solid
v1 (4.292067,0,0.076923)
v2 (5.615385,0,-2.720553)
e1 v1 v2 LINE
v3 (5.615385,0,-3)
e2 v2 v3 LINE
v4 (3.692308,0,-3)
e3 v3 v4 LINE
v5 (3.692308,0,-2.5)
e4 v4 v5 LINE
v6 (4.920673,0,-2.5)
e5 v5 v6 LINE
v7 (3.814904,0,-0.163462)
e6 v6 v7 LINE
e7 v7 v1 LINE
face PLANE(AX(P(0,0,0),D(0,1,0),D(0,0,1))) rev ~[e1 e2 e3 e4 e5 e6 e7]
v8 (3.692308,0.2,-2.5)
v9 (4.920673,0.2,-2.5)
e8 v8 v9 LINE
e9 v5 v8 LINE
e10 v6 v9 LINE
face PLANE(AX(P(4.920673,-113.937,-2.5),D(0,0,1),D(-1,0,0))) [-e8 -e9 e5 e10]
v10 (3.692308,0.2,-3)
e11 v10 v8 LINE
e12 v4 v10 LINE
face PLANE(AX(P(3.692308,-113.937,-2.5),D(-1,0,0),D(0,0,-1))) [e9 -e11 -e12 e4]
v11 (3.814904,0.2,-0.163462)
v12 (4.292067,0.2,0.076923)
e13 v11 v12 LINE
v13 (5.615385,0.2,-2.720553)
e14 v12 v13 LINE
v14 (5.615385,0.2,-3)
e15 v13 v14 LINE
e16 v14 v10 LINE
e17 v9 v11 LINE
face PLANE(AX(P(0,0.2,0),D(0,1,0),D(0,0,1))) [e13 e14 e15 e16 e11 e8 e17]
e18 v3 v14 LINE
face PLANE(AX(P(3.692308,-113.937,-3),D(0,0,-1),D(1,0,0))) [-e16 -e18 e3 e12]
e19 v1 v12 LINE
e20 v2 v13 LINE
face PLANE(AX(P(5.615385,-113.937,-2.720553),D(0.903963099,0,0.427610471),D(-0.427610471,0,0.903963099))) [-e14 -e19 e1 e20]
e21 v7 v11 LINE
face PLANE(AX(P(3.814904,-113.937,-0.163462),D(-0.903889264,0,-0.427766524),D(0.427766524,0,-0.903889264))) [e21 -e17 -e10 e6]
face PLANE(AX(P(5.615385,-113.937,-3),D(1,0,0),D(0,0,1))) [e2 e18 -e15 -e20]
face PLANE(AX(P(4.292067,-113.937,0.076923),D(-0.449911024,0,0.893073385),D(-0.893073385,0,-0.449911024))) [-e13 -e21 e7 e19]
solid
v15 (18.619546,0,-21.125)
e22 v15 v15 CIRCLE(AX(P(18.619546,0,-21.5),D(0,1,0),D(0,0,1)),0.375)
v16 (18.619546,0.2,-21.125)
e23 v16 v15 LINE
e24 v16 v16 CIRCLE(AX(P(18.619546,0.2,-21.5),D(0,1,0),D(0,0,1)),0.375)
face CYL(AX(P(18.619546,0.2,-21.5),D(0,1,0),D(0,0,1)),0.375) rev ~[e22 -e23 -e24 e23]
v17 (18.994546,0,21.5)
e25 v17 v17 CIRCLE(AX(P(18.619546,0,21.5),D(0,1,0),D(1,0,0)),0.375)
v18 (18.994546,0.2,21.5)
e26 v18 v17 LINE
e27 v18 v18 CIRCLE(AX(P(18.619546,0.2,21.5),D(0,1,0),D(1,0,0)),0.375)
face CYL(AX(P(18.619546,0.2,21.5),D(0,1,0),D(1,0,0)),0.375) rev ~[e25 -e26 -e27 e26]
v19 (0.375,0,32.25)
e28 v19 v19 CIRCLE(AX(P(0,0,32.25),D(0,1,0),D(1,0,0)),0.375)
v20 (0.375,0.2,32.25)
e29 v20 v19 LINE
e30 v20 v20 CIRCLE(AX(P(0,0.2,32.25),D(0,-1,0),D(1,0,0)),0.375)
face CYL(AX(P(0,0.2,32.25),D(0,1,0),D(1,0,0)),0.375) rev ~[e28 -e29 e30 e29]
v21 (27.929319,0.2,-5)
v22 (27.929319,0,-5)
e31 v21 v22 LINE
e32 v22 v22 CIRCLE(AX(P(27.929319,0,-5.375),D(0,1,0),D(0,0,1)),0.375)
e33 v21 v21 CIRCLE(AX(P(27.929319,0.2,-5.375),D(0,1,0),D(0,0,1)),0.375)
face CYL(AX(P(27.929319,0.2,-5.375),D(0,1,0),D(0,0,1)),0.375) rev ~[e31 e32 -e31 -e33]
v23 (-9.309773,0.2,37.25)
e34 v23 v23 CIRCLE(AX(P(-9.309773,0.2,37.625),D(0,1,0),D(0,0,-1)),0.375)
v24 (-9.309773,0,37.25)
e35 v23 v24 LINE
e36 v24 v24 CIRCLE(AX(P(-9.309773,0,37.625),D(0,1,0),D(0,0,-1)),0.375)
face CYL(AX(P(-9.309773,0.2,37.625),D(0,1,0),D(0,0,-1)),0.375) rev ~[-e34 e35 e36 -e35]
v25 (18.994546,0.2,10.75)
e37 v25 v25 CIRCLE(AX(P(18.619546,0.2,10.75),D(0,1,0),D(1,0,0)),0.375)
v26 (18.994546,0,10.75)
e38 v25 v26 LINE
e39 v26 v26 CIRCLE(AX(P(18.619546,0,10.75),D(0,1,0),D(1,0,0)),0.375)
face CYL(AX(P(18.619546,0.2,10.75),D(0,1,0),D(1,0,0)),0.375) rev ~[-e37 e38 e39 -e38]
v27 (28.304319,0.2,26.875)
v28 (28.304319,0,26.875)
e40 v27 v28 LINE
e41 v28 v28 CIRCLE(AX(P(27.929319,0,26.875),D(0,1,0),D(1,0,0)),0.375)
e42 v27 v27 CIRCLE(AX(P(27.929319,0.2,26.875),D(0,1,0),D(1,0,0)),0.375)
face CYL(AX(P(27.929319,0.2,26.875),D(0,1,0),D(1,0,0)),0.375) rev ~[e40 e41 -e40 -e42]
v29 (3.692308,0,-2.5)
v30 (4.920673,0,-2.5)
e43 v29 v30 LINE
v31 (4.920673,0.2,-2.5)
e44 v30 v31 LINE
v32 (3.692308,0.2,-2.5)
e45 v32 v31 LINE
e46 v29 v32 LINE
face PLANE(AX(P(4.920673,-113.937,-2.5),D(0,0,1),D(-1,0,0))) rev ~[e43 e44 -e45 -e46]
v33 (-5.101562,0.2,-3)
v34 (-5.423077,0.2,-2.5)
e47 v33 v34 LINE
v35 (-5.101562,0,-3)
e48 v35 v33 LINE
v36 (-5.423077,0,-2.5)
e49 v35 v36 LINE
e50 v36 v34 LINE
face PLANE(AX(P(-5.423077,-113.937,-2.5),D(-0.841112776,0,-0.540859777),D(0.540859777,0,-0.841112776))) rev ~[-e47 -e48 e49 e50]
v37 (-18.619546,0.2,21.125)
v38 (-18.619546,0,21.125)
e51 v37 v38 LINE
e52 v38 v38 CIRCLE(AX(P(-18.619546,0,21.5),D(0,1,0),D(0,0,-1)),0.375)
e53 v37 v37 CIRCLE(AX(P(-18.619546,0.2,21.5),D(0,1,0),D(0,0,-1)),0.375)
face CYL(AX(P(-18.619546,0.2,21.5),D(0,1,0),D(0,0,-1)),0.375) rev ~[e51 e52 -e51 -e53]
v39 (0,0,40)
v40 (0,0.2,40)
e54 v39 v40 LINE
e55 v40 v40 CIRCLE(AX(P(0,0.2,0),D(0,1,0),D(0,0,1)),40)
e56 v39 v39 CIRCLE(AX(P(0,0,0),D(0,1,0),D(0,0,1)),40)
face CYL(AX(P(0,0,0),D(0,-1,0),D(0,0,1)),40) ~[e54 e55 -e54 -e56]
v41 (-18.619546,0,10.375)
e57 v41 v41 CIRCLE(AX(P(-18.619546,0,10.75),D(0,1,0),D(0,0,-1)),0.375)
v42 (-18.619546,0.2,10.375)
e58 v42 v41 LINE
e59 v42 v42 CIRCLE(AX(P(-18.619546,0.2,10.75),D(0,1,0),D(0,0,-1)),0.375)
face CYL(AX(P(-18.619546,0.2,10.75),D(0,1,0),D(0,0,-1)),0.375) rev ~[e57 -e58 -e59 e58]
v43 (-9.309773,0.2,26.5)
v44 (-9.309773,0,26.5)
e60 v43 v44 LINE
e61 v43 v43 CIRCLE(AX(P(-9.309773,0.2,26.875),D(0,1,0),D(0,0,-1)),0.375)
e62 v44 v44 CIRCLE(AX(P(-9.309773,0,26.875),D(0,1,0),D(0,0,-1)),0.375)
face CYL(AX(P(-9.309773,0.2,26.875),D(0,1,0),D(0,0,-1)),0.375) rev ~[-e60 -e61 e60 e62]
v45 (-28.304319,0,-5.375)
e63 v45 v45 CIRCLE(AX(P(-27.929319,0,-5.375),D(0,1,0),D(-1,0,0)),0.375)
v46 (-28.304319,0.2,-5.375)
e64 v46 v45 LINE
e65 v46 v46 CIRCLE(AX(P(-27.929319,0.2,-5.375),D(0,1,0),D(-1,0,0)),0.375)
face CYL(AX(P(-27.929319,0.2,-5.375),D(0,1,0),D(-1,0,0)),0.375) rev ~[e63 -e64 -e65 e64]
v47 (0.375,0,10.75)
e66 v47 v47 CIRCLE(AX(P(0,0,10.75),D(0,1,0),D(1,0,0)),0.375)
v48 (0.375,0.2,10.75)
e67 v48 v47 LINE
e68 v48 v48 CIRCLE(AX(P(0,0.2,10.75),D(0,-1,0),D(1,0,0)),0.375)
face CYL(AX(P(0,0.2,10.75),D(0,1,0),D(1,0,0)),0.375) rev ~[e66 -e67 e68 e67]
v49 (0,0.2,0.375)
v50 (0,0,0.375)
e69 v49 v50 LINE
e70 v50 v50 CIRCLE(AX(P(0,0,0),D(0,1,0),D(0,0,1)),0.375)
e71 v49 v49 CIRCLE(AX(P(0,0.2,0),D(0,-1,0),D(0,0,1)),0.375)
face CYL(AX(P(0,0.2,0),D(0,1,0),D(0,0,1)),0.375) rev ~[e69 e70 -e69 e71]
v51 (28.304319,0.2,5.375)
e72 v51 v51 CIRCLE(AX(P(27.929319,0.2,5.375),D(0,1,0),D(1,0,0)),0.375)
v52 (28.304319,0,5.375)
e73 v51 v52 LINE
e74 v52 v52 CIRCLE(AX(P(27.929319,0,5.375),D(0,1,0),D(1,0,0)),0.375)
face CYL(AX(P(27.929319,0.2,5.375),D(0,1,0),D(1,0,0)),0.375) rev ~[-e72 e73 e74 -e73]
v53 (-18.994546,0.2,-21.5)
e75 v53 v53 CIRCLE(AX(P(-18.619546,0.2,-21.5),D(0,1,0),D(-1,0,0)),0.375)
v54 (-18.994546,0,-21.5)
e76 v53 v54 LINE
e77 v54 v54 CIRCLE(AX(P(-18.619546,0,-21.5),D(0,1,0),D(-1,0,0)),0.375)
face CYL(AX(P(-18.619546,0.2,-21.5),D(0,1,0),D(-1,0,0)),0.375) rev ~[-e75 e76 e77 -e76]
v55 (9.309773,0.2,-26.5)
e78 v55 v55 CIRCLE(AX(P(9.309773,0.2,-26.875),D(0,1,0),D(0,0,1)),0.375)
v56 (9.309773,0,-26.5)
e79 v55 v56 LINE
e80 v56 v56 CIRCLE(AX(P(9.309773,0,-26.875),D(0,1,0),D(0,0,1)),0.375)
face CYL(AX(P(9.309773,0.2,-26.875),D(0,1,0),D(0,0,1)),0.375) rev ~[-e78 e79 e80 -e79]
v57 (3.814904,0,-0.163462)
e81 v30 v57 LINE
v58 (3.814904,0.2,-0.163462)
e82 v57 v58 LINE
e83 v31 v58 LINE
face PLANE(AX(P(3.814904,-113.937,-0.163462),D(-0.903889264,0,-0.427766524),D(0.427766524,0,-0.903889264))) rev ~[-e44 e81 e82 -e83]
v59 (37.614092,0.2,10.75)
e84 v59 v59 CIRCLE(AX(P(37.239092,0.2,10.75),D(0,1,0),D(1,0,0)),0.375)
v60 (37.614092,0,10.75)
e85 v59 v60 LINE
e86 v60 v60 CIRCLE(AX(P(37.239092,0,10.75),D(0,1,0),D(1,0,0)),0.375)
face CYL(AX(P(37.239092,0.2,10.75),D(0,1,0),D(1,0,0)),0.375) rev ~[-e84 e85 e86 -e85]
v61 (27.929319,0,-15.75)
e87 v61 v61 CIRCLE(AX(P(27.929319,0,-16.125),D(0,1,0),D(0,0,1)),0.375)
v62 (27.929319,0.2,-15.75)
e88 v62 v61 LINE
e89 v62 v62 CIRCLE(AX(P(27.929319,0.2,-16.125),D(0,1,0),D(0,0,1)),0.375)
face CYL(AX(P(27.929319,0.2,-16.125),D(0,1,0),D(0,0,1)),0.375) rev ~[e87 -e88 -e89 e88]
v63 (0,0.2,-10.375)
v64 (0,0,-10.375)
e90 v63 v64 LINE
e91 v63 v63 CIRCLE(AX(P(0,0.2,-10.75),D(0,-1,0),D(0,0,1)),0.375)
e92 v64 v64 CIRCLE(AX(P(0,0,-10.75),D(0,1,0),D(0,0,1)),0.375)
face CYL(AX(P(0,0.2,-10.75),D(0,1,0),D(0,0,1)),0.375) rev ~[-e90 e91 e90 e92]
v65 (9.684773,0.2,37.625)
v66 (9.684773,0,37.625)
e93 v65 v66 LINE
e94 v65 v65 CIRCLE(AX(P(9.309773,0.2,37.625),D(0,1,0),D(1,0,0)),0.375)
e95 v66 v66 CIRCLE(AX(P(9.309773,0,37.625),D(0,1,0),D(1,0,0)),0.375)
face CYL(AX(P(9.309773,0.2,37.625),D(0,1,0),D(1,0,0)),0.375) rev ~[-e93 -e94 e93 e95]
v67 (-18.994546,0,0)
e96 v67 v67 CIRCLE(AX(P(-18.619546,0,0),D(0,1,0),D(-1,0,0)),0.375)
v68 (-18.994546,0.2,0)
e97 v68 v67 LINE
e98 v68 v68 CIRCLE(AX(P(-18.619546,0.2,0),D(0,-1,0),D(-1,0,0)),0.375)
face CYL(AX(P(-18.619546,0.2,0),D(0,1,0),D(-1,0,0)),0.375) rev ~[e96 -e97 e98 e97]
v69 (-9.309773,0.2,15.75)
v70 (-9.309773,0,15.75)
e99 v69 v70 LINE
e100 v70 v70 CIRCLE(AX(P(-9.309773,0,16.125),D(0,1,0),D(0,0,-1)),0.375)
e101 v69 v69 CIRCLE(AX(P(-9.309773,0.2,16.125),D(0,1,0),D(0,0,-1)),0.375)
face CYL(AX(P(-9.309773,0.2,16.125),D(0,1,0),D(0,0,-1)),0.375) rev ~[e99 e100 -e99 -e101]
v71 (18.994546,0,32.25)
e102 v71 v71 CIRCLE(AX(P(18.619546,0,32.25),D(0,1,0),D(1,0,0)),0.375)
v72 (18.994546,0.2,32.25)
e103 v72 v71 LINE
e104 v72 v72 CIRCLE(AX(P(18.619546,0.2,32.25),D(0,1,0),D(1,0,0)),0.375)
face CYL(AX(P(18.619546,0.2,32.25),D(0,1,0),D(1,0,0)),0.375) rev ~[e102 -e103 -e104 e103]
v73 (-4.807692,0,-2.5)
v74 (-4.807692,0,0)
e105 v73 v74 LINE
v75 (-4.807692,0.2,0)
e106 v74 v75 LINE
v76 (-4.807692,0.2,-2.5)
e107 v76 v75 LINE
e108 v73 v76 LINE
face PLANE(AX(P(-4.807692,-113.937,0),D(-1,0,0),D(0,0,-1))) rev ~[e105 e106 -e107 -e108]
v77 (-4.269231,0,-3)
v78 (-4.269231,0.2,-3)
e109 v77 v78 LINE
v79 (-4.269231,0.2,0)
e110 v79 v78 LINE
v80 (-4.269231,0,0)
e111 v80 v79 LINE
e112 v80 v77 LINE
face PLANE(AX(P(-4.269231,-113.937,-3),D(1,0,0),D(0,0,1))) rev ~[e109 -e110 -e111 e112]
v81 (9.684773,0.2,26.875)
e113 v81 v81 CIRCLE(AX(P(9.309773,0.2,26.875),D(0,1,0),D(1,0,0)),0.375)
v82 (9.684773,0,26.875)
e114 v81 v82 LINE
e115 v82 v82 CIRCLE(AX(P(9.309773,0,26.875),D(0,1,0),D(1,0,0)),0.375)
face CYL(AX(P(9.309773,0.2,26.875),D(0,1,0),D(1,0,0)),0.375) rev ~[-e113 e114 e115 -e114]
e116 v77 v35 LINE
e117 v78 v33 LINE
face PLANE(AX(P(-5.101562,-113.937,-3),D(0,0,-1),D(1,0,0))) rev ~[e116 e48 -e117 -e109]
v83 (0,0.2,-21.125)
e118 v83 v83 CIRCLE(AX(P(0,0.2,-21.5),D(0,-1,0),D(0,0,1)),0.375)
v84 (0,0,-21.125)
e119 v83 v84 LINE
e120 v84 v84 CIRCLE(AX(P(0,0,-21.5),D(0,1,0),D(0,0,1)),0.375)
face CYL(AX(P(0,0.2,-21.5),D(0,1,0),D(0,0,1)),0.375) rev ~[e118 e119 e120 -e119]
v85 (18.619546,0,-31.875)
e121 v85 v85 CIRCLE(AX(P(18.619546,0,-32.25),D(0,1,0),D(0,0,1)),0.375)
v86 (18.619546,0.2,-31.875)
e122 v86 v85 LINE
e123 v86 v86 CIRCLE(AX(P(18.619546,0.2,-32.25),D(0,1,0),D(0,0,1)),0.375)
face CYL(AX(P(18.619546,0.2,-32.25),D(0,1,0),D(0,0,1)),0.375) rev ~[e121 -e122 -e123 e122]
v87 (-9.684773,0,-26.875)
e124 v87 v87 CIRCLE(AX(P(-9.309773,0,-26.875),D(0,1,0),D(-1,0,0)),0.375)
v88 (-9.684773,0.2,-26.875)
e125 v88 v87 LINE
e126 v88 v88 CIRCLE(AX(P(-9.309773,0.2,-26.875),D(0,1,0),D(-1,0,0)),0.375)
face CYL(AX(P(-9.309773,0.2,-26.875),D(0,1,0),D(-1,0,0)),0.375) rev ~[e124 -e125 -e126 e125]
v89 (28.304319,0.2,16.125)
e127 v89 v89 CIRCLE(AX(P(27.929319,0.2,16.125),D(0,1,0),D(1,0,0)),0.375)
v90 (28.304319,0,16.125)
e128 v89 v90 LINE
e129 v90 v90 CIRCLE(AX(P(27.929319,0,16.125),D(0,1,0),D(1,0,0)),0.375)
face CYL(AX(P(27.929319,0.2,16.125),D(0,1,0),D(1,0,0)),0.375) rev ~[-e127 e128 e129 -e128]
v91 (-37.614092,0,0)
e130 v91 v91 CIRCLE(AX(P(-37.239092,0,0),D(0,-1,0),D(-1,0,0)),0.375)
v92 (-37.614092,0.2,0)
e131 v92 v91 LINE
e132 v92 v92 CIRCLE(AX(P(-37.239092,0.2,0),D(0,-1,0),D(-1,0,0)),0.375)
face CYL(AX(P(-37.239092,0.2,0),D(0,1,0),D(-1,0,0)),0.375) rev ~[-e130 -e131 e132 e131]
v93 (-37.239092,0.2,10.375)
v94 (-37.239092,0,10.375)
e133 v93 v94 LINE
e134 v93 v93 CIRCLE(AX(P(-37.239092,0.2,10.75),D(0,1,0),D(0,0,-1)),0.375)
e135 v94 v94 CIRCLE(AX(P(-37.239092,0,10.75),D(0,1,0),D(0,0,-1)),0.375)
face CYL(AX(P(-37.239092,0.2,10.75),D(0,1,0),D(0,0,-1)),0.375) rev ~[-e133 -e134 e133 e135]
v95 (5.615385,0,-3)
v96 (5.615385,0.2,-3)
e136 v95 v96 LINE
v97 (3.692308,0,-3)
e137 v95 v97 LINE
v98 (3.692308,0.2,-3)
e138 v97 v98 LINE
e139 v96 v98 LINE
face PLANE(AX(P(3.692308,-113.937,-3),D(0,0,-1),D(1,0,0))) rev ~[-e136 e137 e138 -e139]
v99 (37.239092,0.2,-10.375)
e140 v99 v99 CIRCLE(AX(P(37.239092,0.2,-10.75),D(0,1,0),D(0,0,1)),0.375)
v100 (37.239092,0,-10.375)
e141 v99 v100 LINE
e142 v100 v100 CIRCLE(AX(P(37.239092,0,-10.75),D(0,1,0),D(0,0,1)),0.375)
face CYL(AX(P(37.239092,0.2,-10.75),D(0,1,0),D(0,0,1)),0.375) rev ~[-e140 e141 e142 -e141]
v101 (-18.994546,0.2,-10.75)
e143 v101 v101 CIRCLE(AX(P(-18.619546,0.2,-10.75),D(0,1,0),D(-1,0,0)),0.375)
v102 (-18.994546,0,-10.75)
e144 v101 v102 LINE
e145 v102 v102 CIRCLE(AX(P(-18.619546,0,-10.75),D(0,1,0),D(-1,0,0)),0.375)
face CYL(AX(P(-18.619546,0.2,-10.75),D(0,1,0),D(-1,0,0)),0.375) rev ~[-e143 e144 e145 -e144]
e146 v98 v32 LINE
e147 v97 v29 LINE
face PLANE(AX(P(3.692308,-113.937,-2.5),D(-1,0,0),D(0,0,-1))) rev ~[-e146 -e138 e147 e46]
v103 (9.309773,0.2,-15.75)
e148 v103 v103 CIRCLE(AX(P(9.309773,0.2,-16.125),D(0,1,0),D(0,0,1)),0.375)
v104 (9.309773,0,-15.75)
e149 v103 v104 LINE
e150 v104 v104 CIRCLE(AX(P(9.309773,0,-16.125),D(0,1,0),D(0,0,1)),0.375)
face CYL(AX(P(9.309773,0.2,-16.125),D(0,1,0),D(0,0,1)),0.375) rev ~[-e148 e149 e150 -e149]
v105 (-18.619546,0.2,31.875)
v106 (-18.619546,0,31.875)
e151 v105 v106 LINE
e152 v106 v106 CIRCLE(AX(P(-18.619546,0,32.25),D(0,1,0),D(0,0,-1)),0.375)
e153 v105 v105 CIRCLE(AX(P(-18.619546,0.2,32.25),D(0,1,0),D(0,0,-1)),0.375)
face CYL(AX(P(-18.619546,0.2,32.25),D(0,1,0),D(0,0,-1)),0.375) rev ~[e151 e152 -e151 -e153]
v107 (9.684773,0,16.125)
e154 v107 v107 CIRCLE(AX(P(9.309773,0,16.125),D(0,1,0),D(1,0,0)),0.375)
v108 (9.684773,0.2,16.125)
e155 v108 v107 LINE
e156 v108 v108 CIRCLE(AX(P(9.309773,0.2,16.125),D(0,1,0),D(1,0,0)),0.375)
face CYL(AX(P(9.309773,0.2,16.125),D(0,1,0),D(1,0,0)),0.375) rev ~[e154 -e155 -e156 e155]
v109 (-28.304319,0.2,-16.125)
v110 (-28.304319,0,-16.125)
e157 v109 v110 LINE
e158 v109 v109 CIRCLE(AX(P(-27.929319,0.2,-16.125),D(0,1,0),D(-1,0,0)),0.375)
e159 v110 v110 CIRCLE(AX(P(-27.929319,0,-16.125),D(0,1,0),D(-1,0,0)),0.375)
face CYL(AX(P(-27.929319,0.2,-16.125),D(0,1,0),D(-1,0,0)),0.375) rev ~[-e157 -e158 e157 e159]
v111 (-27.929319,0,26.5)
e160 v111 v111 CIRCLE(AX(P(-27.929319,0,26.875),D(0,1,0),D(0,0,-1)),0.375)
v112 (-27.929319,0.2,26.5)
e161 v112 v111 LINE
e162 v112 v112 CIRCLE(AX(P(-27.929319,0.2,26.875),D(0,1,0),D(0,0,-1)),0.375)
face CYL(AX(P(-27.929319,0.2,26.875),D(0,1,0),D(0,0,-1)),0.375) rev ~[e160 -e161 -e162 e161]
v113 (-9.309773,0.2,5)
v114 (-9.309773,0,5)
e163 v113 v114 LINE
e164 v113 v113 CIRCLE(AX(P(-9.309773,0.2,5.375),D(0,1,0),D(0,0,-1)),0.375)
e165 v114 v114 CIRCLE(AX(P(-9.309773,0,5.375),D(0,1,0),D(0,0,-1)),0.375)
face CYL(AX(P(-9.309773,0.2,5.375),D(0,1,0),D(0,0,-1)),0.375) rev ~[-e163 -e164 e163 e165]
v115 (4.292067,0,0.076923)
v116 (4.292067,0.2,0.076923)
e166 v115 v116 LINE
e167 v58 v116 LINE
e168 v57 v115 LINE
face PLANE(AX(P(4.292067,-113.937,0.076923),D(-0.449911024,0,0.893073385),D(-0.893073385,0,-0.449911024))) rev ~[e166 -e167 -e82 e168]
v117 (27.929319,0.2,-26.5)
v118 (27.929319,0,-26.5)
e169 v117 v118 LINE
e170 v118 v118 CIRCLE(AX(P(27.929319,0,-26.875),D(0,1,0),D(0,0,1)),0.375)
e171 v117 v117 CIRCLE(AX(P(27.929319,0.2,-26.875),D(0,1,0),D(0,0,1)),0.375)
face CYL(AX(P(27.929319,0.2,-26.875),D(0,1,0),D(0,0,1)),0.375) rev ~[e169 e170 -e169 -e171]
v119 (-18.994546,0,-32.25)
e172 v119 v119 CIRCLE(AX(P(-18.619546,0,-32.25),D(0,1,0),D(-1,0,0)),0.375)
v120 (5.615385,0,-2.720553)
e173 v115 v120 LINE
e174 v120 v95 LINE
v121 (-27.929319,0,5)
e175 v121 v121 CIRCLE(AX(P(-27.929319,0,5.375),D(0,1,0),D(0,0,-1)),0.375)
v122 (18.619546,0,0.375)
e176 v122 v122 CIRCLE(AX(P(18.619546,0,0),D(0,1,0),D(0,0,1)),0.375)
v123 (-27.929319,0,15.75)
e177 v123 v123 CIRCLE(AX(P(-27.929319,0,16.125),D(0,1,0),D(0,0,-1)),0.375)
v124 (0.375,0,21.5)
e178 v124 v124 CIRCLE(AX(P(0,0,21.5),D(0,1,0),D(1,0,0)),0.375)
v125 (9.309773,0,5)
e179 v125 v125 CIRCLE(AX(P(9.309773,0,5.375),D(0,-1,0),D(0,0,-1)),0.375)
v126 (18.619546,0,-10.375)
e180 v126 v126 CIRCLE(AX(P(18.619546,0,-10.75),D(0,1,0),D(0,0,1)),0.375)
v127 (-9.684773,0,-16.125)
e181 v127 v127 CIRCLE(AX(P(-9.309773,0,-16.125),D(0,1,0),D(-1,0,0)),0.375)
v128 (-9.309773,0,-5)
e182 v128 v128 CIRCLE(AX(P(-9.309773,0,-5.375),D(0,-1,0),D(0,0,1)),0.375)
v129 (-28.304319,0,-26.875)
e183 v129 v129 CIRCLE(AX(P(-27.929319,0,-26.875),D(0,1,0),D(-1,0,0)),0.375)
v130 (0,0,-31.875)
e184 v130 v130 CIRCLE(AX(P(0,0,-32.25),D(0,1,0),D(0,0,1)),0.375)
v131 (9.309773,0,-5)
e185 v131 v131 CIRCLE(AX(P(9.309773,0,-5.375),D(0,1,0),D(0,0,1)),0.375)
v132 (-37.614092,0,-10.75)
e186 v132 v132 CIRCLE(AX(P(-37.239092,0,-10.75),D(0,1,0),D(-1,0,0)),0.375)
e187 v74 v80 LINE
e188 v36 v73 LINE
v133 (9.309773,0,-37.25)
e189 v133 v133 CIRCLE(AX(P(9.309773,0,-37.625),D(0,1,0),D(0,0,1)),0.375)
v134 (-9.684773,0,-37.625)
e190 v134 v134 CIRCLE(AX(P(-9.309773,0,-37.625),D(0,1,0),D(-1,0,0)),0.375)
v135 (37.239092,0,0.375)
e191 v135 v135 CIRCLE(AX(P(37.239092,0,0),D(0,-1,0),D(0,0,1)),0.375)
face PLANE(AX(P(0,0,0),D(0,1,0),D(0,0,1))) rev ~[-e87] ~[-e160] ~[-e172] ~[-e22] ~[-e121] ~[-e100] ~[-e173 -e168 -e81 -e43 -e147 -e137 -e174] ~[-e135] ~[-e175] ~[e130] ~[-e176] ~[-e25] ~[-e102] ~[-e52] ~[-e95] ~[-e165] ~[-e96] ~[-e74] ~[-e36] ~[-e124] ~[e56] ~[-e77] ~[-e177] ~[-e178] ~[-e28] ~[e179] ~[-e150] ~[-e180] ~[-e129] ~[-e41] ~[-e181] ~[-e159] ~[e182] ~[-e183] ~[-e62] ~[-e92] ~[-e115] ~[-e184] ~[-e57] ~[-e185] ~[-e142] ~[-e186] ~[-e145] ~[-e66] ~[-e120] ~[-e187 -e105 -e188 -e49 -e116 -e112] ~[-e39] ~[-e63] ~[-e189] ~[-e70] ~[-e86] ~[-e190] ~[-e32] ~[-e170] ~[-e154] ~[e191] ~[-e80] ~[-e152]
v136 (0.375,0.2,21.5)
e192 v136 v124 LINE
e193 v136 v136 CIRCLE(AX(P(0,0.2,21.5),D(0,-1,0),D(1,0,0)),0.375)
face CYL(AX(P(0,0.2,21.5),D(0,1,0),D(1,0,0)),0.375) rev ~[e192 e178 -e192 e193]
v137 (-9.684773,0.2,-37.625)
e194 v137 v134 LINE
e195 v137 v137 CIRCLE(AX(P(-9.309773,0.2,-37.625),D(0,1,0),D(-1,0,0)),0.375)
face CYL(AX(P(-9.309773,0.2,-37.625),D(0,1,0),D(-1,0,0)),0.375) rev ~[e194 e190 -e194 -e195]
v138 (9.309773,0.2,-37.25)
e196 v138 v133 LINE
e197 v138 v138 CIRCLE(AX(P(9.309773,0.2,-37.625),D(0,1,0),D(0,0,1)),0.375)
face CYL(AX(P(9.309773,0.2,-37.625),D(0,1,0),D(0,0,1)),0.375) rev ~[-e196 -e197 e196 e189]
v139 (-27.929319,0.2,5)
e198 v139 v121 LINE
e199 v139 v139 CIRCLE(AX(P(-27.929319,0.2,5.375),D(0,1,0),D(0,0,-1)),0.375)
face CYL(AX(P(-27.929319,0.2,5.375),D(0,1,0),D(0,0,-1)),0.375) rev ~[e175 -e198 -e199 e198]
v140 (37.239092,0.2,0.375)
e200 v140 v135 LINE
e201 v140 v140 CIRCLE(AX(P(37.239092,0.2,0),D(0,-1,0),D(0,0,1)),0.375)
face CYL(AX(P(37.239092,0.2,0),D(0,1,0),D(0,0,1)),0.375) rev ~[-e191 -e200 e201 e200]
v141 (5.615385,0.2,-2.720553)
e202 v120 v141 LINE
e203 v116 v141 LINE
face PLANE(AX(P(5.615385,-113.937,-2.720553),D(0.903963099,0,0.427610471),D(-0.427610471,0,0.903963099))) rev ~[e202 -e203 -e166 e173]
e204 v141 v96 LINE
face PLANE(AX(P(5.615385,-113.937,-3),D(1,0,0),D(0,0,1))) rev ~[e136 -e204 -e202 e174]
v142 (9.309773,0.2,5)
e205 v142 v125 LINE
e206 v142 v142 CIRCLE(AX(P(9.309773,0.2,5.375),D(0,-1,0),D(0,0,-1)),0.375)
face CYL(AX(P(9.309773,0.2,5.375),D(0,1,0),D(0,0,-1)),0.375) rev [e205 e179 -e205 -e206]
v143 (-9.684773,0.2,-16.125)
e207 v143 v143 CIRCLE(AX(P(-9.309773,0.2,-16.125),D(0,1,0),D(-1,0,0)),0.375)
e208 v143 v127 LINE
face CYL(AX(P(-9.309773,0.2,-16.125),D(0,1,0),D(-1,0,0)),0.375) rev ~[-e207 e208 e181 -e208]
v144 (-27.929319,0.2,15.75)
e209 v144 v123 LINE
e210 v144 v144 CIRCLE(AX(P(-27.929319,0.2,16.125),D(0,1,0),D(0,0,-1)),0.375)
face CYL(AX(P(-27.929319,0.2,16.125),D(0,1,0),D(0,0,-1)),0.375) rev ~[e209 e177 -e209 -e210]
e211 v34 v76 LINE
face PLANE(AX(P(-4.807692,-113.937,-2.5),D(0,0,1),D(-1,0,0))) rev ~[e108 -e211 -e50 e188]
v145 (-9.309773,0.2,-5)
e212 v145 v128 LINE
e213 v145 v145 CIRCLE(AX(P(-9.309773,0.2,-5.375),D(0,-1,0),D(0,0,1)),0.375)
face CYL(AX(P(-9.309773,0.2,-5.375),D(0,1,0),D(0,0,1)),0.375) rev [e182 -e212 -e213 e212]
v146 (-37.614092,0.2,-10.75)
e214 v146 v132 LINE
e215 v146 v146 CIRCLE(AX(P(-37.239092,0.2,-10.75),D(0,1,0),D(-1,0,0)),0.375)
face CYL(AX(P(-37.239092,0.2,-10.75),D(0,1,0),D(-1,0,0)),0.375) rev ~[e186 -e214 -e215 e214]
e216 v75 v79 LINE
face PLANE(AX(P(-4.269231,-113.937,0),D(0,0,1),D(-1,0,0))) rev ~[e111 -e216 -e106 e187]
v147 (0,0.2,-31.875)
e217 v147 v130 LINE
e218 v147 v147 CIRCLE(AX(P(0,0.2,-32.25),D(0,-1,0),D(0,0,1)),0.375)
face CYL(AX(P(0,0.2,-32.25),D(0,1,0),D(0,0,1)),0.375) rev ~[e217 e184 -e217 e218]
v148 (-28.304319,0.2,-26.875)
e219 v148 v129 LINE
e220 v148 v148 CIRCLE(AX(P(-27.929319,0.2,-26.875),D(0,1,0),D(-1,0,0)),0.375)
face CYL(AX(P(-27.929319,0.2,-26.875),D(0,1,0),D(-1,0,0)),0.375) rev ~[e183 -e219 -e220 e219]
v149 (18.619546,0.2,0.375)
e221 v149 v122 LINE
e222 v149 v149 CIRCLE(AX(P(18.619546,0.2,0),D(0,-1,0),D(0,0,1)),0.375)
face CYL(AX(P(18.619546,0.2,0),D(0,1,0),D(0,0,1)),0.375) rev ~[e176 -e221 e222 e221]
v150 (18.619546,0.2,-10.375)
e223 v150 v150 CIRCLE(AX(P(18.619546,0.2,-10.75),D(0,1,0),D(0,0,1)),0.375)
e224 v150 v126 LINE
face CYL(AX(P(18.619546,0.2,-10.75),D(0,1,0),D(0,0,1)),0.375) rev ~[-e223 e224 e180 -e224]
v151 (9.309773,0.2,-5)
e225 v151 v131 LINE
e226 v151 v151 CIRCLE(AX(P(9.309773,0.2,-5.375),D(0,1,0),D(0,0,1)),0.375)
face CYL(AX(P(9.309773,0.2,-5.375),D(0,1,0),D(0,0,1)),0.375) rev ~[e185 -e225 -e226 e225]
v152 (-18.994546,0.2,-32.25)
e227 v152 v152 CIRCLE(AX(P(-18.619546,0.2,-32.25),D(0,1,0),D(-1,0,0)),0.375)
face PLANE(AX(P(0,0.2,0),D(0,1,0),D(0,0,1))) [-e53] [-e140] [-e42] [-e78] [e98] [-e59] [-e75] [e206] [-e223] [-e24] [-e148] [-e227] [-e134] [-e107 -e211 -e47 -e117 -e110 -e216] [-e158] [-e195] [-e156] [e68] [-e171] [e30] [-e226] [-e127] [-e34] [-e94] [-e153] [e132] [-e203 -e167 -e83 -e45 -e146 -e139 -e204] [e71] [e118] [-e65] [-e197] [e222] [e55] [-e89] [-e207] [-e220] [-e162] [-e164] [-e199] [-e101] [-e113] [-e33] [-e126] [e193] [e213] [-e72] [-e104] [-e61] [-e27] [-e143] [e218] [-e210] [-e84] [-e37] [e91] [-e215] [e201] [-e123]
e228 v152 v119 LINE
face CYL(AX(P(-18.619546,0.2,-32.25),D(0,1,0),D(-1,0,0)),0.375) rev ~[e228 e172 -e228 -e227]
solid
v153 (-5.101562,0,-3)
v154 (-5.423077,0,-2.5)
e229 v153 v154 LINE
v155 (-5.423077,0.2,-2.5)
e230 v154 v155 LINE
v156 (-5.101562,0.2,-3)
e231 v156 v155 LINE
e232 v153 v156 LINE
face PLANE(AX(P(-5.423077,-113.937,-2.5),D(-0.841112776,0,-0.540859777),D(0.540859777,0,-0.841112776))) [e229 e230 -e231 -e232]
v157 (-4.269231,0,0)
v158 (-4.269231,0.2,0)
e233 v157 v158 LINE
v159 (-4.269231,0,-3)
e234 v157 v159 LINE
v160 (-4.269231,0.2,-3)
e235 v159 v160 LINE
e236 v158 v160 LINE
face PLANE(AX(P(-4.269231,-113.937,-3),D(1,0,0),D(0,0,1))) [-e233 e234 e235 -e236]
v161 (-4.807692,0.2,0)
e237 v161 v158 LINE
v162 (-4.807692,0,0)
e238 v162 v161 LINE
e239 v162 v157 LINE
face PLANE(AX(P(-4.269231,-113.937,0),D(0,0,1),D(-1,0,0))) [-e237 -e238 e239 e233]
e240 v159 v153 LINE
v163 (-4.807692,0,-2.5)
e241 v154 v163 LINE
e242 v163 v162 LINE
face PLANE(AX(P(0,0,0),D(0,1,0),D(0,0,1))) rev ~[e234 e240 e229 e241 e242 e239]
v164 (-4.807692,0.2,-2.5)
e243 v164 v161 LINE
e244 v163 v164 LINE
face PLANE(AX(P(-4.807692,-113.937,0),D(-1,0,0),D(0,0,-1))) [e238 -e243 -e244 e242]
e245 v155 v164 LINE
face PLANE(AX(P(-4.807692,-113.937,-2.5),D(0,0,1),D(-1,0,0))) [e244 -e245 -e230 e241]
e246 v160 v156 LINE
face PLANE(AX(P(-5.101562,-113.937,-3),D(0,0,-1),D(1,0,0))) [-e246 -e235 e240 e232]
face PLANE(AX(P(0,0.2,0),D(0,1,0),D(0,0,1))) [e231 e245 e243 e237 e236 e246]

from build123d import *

# Parameters (mm, degrees)
SKETCH2_R                = 40
BOSS_EXTRUDE1_DEPTH      = 0.2
SKETCH4_R                = 0.375
CUT_EXTRUDE2_DEPTH       = 0.2
LPATTERN1_COUNT          = 4
LPATTERN1_PITCH          = 10.75
LPATTERN1_COUNT_DIR2     = 3
LPATTERN1_PITCH_DIR2     = 18.619546181
MIRROR1_COPY_1_SKETCH_R  = 0.375
MIRROR1_COPY_1_DEPTH     = 0.2
MIRROR1_COPY_2_SKETCH_R  = 0.375
MIRROR1_COPY_2_DEPTH     = 0.2
MIRROR1_COPY_3_SKETCH_R  = 0.375
MIRROR1_COPY_3_DEPTH     = 0.2
MIRROR1_COPY_4_SKETCH_R  = 0.375
MIRROR1_COPY_4_DEPTH     = 0.2
MIRROR1_COPY_5_SKETCH_R  = 0.375
MIRROR1_COPY_5_DEPTH     = 0.2
MIRROR1_COPY_6_SKETCH_R  = 0.375
MIRROR1_COPY_6_DEPTH     = 0.2
MIRROR1_COPY_7_SKETCH_R  = 0.375
MIRROR1_COPY_7_DEPTH     = 0.2
MIRROR1_COPY_8_SKETCH_R  = 0.375
MIRROR1_COPY_8_DEPTH     = 0.2
MIRROR1_COPY_9_SKETCH_R  = 0.375
MIRROR1_COPY_9_DEPTH     = 0.2
MIRROR1_COPY_10_SKETCH_R = 0.375
MIRROR1_COPY_10_DEPTH    = 0.2
MIRROR1_COPY_11_SKETCH_R = 0.375
MIRROR1_COPY_11_DEPTH    = 0.2
MIRROR1_COPY_12_SKETCH_R = 0.375
MIRROR1_COPY_12_DEPTH    = 0.2
MIRROR2_COPY_1_SKETCH_R  = 0.375
MIRROR2_COPY_1_DEPTH     = 0.2
MIRROR2_COPY_2_SKETCH_R  = 0.375
MIRROR2_COPY_2_DEPTH     = 0.2
MIRROR2_COPY_3_SKETCH_R  = 0.375
MIRROR2_COPY_3_DEPTH     = 0.2
MIRROR2_COPY_4_SKETCH_R  = 0.375
MIRROR2_COPY_4_DEPTH     = 0.2
MIRROR2_COPY_5_SKETCH_R  = 0.375
MIRROR2_COPY_5_DEPTH     = 0.2
MIRROR2_COPY_6_SKETCH_R  = 0.375
MIRROR2_COPY_6_DEPTH     = 0.2
MIRROR2_COPY_7_SKETCH_R  = 0.375
MIRROR2_COPY_7_DEPTH     = 0.2
MIRROR2_COPY_8_SKETCH_R  = 0.375
MIRROR2_COPY_8_DEPTH     = 0.2
MIRROR2_COPY_9_SKETCH_R  = 0.375
MIRROR2_COPY_9_DEPTH     = 0.2
MIRROR2_COPY_10_SKETCH_R = 0.375
MIRROR2_COPY_10_DEPTH    = 0.2
MIRROR2_COPY_11_SKETCH_R = 0.375
MIRROR2_COPY_11_DEPTH    = 0.2
MIRROR2_COPY_12_SKETCH_R = 0.375
MIRROR2_COPY_12_DEPTH    = 0.2
MIRROR2_COPY_13_SKETCH_R = 0.375
MIRROR2_COPY_13_DEPTH    = 0.2
MIRROR2_COPY_14_SKETCH_R = 0.375
MIRROR2_COPY_14_DEPTH    = 0.2
MIRROR2_COPY_15_SKETCH_R = 0.375
MIRROR2_COPY_15_DEPTH    = 0.2
MIRROR2_COPY_16_SKETCH_R = 0.375
MIRROR2_COPY_16_DEPTH    = 0.2
MIRROR2_COPY_17_SKETCH_R = 0.375
MIRROR2_COPY_17_DEPTH    = 0.2
MIRROR2_COPY_18_SKETCH_R = 0.375
MIRROR2_COPY_18_DEPTH    = 0.2
MIRROR2_COPY_19_SKETCH_R = 0.375
MIRROR2_COPY_19_DEPTH    = 0.2
MIRROR2_COPY_20_SKETCH_R = 0.375
MIRROR2_COPY_20_DEPTH    = 0.2
MIRROR2_COPY_21_SKETCH_R = 0.375
MIRROR2_COPY_21_DEPTH    = 0.2
MIRROR2_COPY_22_SKETCH_R = 0.375
MIRROR2_COPY_22_DEPTH    = 0.2
MIRROR2_COPY_23_SKETCH_R = 0.375
MIRROR2_COPY_23_DEPTH    = 0.2
MIRROR2_COPY_24_SKETCH_R = 0.375
MIRROR2_COPY_24_DEPTH    = 0.2
MIRROR2_COPY_25_SKETCH_R = 0.375
MIRROR2_COPY_25_DEPTH    = 0.2
SPLIT1_SURFACE_1_1_BACK  = 114.137
SPLIT1_SURFACE_1_1_DEPTH = 228.274
SPLIT1_SURFACE_1_2_BACK  = 114.137
SPLIT1_SURFACE_1_2_DEPTH = 228.274
SPLIT1_SURFACE_2_3_BACK  = 114.137
SPLIT1_SURFACE_2_3_DEPTH = 228.274
SPLIT1_SURFACE_2_4_BACK  = 114.137
SPLIT1_SURFACE_2_4_DEPTH = 228.274


with BuildPart() as part:
    # Sketch2 → Boss-Extrude1 (new body)
    with BuildSketch(Plane(origin=(0, 0, 0), x_dir=(1, 0, 0), z_dir=(0, 1, 0))):
        Circle(SKETCH2_R)
    extrude(amount=BOSS_EXTRUDE1_DEPTH)

    # Sketch4 → Cut-Extrude2 (cut)
    with BuildSketch(Plane(origin=(0, 0.2, 0), x_dir=(1, 0, 0), z_dir=(0, 1, 0))):
        with Locations((9.309773091, 5.375)):
            Circle(SKETCH4_R)
        Circle(SKETCH4_R)
    cut_extrude2 = extrude(amount=-CUT_EXTRUDE2_DEPTH, mode=Mode.SUBTRACT)

    # LPattern1: Cut-Extrude2 4 × 3
    with Locations(*[(j * LPATTERN1_PITCH_DIR2, 0, -i * LPATTERN1_PITCH) for i in range(LPATTERN1_COUNT) for j in range(LPATTERN1_COUNT_DIR2) if (i, j) != (0, 0)]):
        add(cut_extrude2, mode=Mode.SUBTRACT)

    # Mirror1 copy 1 sketch → Mirror1 copy 1 (cut)
    with BuildSketch(Plane(origin=(-18.619546181, 0.2, 0), x_dir=(-1, 0, 0), z_dir=(0, 1, 0))):
        with Locations((9.309773091, -5.375)):
            Circle(MIRROR1_COPY_1_SKETCH_R)
        Circle(MIRROR1_COPY_1_SKETCH_R)
    extrude(amount=-MIRROR1_COPY_1_DEPTH, mode=Mode.SUBTRACT)

    # Mirror1 copy 2 sketch → Mirror1 copy 2 (cut)
    with BuildSketch(Plane(origin=(-37.239092363, 0.2, 0), x_dir=(-1, 0, 0), z_dir=(0, 1, 0))):
        with Locations((9.309773091, -5.375)):
            Circle(MIRROR1_COPY_2_SKETCH_R)
        Circle(MIRROR1_COPY_2_SKETCH_R)
    extrude(amount=-MIRROR1_COPY_2_DEPTH, mode=Mode.SUBTRACT)

    # Mirror1 copy 3 sketch → Mirror1 copy 3 (cut)
    with BuildSketch(Plane(origin=(0, 0.2, -10.75), x_dir=(-1, 0, 0), z_dir=(0, 1, 0))):
        with Locations((9.309773091, -5.375)):
            Circle(MIRROR1_COPY_3_SKETCH_R)
        Circle(MIRROR1_COPY_3_SKETCH_R)
    extrude(amount=-MIRROR1_COPY_3_DEPTH, mode=Mode.SUBTRACT)

    # Mirror1 copy 4 sketch → Mirror1 copy 4 (cut)
    with BuildSketch(Plane(origin=(-18.619546181, 0.2, -10.75), x_dir=(-1, 0, 0), z_dir=(0, 1, 0))):
        with Locations((9.309773091, -5.375)):
            Circle(MIRROR1_COPY_4_SKETCH_R)
        Circle(MIRROR1_COPY_4_SKETCH_R)
    extrude(amount=-MIRROR1_COPY_4_DEPTH, mode=Mode.SUBTRACT)

    # Mirror1 copy 5 sketch → Mirror1 copy 5 (cut)
    with BuildSketch(Plane(origin=(-37.239092363, 0.2, -10.75), x_dir=(-1, 0, 0), z_dir=(0, 1, 0))):
        with Locations((9.309773091, -5.375)):
            Circle(MIRROR1_COPY_5_SKETCH_R)
        Circle(MIRROR1_COPY_5_SKETCH_R)
    extrude(amount=-MIRROR1_COPY_5_DEPTH, mode=Mode.SUBTRACT)

    # Mirror1 copy 6 sketch → Mirror1 copy 6 (cut)
    with BuildSketch(Plane(origin=(0, 0.2, -21.5), x_dir=(-1, 0, 0), z_dir=(0, 1, 0))):
        with Locations((9.309773091, -5.375)):
            Circle(MIRROR1_COPY_6_SKETCH_R)
        Circle(MIRROR1_COPY_6_SKETCH_R)
    extrude(amount=-MIRROR1_COPY_6_DEPTH, mode=Mode.SUBTRACT)

    # Mirror1 copy 7 sketch → Mirror1 copy 7 (cut)
    with BuildSketch(Plane(origin=(-18.619546181, 0.2, -21.5), x_dir=(-1, 0, 0), z_dir=(0, 1, 0))):
        with Locations((9.309773091, -5.375)):
            Circle(MIRROR1_COPY_7_SKETCH_R)
        Circle(MIRROR1_COPY_7_SKETCH_R)
    extrude(amount=-MIRROR1_COPY_7_DEPTH, mode=Mode.SUBTRACT)

    # Mirror1 copy 8 sketch → Mirror1 copy 8 (cut)
    with BuildSketch(Plane(origin=(-37.239092363, 0.2, -21.5), x_dir=(-1, 0, 0), z_dir=(0, 1, 0))):
        with Locations((9.309773091, -5.375)):
            Circle(MIRROR1_COPY_8_SKETCH_R)
        Circle(MIRROR1_COPY_8_SKETCH_R)
    extrude(amount=-MIRROR1_COPY_8_DEPTH, mode=Mode.SUBTRACT)

    # Mirror1 copy 9 sketch → Mirror1 copy 9 (cut)
    with BuildSketch(Plane(origin=(0, 0.2, -32.25), x_dir=(-1, 0, 0), z_dir=(0, 1, 0))):
        with Locations((9.309773091, -5.375)):
            Circle(MIRROR1_COPY_9_SKETCH_R)
        Circle(MIRROR1_COPY_9_SKETCH_R)
    extrude(amount=-MIRROR1_COPY_9_DEPTH, mode=Mode.SUBTRACT)

    # Mirror1 copy 10 sketch → Mirror1 copy 10 (cut)
    with BuildSketch(Plane(origin=(-18.619546181, 0.2, -32.25), x_dir=(-1, 0, 0), z_dir=(0, 1, 0))):
        with Locations((9.309773091, -5.375)):
            Circle(MIRROR1_COPY_10_SKETCH_R)
        Circle(MIRROR1_COPY_10_SKETCH_R)
    extrude(amount=-MIRROR1_COPY_10_DEPTH, mode=Mode.SUBTRACT)

    # Mirror1 copy 11 sketch → Mirror1 copy 11 (cut)
    with BuildSketch(Plane(origin=(-37.239092363, 0.2, -32.25), x_dir=(-1, 0, 0), z_dir=(0, 1, 0))):
        with Locations((9.309773091, -5.375)):
            Circle(MIRROR1_COPY_11_SKETCH_R)
        Circle(MIRROR1_COPY_11_SKETCH_R)
    extrude(amount=-MIRROR1_COPY_11_DEPTH, mode=Mode.SUBTRACT)

    # Mirror1 copy 12 sketch → Mirror1 copy 12 (cut)
    with BuildSketch(Plane(origin=(0, 0.2, 0), x_dir=(-1, 0, 0), z_dir=(0, 1, 0))):
        with Locations((9.309773091, -5.375)):
            Circle(MIRROR1_COPY_12_SKETCH_R)
        Circle(MIRROR1_COPY_12_SKETCH_R)
    extrude(amount=-MIRROR1_COPY_12_DEPTH, mode=Mode.SUBTRACT)

    # Mirror2 copy 1 sketch → Mirror2 copy 1 (cut)
    with BuildSketch(Plane(origin=(18.619546181, 0.2, 0), x_dir=(1, 0, 0), z_dir=(0, 1, 0))):
        with Locations((9.309773091, -5.375)):
            Circle(MIRROR2_COPY_1_SKETCH_R)
        Circle(MIRROR2_COPY_1_SKETCH_R)
    extrude(amount=-MIRROR2_COPY_1_DEPTH, mode=Mode.SUBTRACT)

    # Mirror2 copy 2 sketch → Mirror2 copy 2 (cut)
    with BuildSketch(Plane(origin=(37.239092363, 0.2, 0), x_dir=(1, 0, 0), z_dir=(0, 1, 0))):
        with Locations((9.309773091, -5.375)):
            Circle(MIRROR2_COPY_2_SKETCH_R)
        Circle(MIRROR2_COPY_2_SKETCH_R)
    extrude(amount=-MIRROR2_COPY_2_DEPTH, mode=Mode.SUBTRACT)

    # Mirror2 copy 3 sketch → Mirror2 copy 3 (cut)
    with BuildSketch(Plane(origin=(0, 0.2, 10.75), x_dir=(1, 0, 0), z_dir=(0, 1, 0))):
        with Locations((9.309773091, -5.375)):
            Circle(MIRROR2_COPY_3_SKETCH_R)
        Circle(MIRROR2_COPY_3_SKETCH_R)
    extrude(amount=-MIRROR2_COPY_3_DEPTH, mode=Mode.SUBTRACT)

    # Mirror2 copy 4 sketch → Mirror2 copy 4 (cut)
    with BuildSketch(Plane(origin=(18.619546181, 0.2, 10.75), x_dir=(1, 0, 0), z_dir=(0, 1, 0))):
        with Locations((9.309773091, -5.375)):
            Circle(MIRROR2_COPY_4_SKETCH_R)
        Circle(MIRROR2_COPY_4_SKETCH_R)
    extrude(amount=-MIRROR2_COPY_4_DEPTH, mode=Mode.SUBTRACT)

    # Mirror2 copy 5 sketch → Mirror2 copy 5 (cut)
    with BuildSketch(Plane(origin=(37.239092363, 0.2, 10.75), x_dir=(1, 0, 0), z_dir=(0, 1, 0))):
        with Locations((9.309773091, -5.375)):
            Circle(MIRROR2_COPY_5_SKETCH_R)
        Circle(MIRROR2_COPY_5_SKETCH_R)
    extrude(amount=-MIRROR2_COPY_5_DEPTH, mode=Mode.SUBTRACT)

    # Mirror2 copy 6 sketch → Mirror2 copy 6 (cut)
    with BuildSketch(Plane(origin=(0, 0.2, 21.5), x_dir=(1, 0, 0), z_dir=(0, 1, 0))):
        with Locations((9.309773091, -5.375)):
            Circle(MIRROR2_COPY_6_SKETCH_R)
        Circle(MIRROR2_COPY_6_SKETCH_R)
    extrude(amount=-MIRROR2_COPY_6_DEPTH, mode=Mode.SUBTRACT)

    # Mirror2 copy 7 sketch → Mirror2 copy 7 (cut)
    with BuildSketch(Plane(origin=(18.619546181, 0.2, 21.5), x_dir=(1, 0, 0), z_dir=(0, 1, 0))):
        with Locations((9.309773091, -5.375)):
            Circle(MIRROR2_COPY_7_SKETCH_R)
        Circle(MIRROR2_COPY_7_SKETCH_R)
    extrude(amount=-MIRROR2_COPY_7_DEPTH, mode=Mode.SUBTRACT)

    # Mirror2 copy 8 sketch → Mirror2 copy 8 (cut)
    with BuildSketch(Plane(origin=(37.239092363, 0.2, 21.5), x_dir=(1, 0, 0), z_dir=(0, 1, 0))):
        with Locations((9.309773091, -5.375)):
            Circle(MIRROR2_COPY_8_SKETCH_R)
        Circle(MIRROR2_COPY_8_SKETCH_R)
    extrude(amount=-MIRROR2_COPY_8_DEPTH, mode=Mode.SUBTRACT)

    # Mirror2 copy 9 sketch → Mirror2 copy 9 (cut)
    with BuildSketch(Plane(origin=(0, 0.2, 32.25), x_dir=(1, 0, 0), z_dir=(0, 1, 0))):
        with Locations((9.309773091, -5.375)):
            Circle(MIRROR2_COPY_9_SKETCH_R)
        Circle(MIRROR2_COPY_9_SKETCH_R)
    extrude(amount=-MIRROR2_COPY_9_DEPTH, mode=Mode.SUBTRACT)

    # Mirror2 copy 10 sketch → Mirror2 copy 10 (cut)
    with BuildSketch(Plane(origin=(18.619546181, 0.2, 32.25), x_dir=(1, 0, 0), z_dir=(0, 1, 0))):
        with Locations((9.309773091, -5.375)):
            Circle(MIRROR2_COPY_10_SKETCH_R)
        Circle(MIRROR2_COPY_10_SKETCH_R)
    extrude(amount=-MIRROR2_COPY_10_DEPTH, mode=Mode.SUBTRACT)

    # Mirror2 copy 11 sketch → Mirror2 copy 11 (cut)
    with BuildSketch(Plane(origin=(37.239092363, 0.2, 32.25), x_dir=(1, 0, 0), z_dir=(0, 1, 0))):
        with Locations((9.309773091, -5.375)):
            Circle(MIRROR2_COPY_11_SKETCH_R)
        Circle(MIRROR2_COPY_11_SKETCH_R)
    extrude(amount=-MIRROR2_COPY_11_DEPTH, mode=Mode.SUBTRACT)

    # Mirror2 copy 12 sketch → Mirror2 copy 12 (cut)
    with BuildSketch(Plane(origin=(0, 0.2, 0), x_dir=(1, 0, 0), z_dir=(0, 1, 0))):
        with Locations((9.309773091, -5.375)):
            Circle(MIRROR2_COPY_12_SKETCH_R)
        Circle(MIRROR2_COPY_12_SKETCH_R)
    extrude(amount=-MIRROR2_COPY_12_DEPTH, mode=Mode.SUBTRACT)

    # Mirror2 copy 13 sketch → Mirror2 copy 13 (cut)
    with BuildSketch(Plane(origin=(-18.619546181, 0.2, 0), x_dir=(-1, 0, 0), z_dir=(0, 1, 0))):
        with Locations((9.309773091, 5.375)):
            Circle(MIRROR2_COPY_13_SKETCH_R)
        Circle(MIRROR2_COPY_13_SKETCH_R)
    extrude(amount=-MIRROR2_COPY_13_DEPTH, mode=Mode.SUBTRACT)

    # Mirror2 copy 14 sketch → Mirror2 copy 14 (cut)
    with BuildSketch(Plane(origin=(-37.239092363, 0.2, 0), x_dir=(-1, 0, 0), z_dir=(0, 1, 0))):
        with Locations((9.309773091, 5.375)):
            Circle(MIRROR2_COPY_14_SKETCH_R)
        Circle(MIRROR2_COPY_14_SKETCH_R)
    extrude(amount=-MIRROR2_COPY_14_DEPTH, mode=Mode.SUBTRACT)

    # Mirror2 copy 15 sketch → Mirror2 copy 15 (cut)
    with BuildSketch(Plane(origin=(0, 0.2, 10.75), x_dir=(-1, 0, 0), z_dir=(0, 1, 0))):
        with Locations((9.309773091, 5.375)):
            Circle(MIRROR2_COPY_15_SKETCH_R)
        Circle(MIRROR2_COPY_15_SKETCH_R)
    extrude(amount=-MIRROR2_COPY_15_DEPTH, mode=Mode.SUBTRACT)

    # Mirror2 copy 16 sketch → Mirror2 copy 16 (cut)
    with BuildSketch(Plane(origin=(-18.619546181, 0.2, 10.75), x_dir=(-1, 0, 0), z_dir=(0, 1, 0))):
        with Locations((9.309773091, 5.375)):
            Circle(MIRROR2_COPY_16_SKETCH_R)
        Circle(MIRROR2_COPY_16_SKETCH_R)
    extrude(amount=-MIRROR2_COPY_16_DEPTH, mode=Mode.SUBTRACT)

    # Mirror2 copy 17 sketch → Mirror2 copy 17 (cut)
    with BuildSketch(Plane(origin=(-37.239092363, 0.2, 10.75), x_dir=(-1, 0, 0), z_dir=(0, 1, 0))):
        with Locations((9.309773091, 5.375)):
            Circle(MIRROR2_COPY_17_SKETCH_R)
        Circle(MIRROR2_COPY_17_SKETCH_R)
    extrude(amount=-MIRROR2_COPY_17_DEPTH, mode=Mode.SUBTRACT)

    # Mirror2 copy 18 sketch → Mirror2 copy 18 (cut)
    with BuildSketch(Plane(origin=(0, 0.2, 21.5), x_dir=(-1, 0, 0), z_dir=(0, 1, 0))):
        with Locations((9.309773091, 5.375)):
            Circle(MIRROR2_COPY_18_SKETCH_R)
        Circle(MIRROR2_COPY_18_SKETCH_R)
    extrude(amount=-MIRROR2_COPY_18_DEPTH, mode=Mode.SUBTRACT)

    # Mirror2 copy 19 sketch → Mirror2 copy 19 (cut)
    with BuildSketch(Plane(origin=(-18.619546181, 0.2, 21.5), x_dir=(-1, 0, 0), z_dir=(0, 1, 0))):
        with Locations((9.309773091, 5.375)):
            Circle(MIRROR2_COPY_19_SKETCH_R)
        Circle(MIRROR2_COPY_19_SKETCH_R)
    extrude(amount=-MIRROR2_COPY_19_DEPTH, mode=Mode.SUBTRACT)

    # Mirror2 copy 20 sketch → Mirror2 copy 20 (cut)
    with BuildSketch(Plane(origin=(-37.239092363, 0.2, 21.5), x_dir=(-1, 0, 0), z_dir=(0, 1, 0))):
        with Locations((9.309773091, 5.375)):
            Circle(MIRROR2_COPY_20_SKETCH_R)
        Circle(MIRROR2_COPY_20_SKETCH_R)
    extrude(amount=-MIRROR2_COPY_20_DEPTH, mode=Mode.SUBTRACT)

    # Mirror2 copy 21 sketch → Mirror2 copy 21 (cut)
    with BuildSketch(Plane(origin=(0, 0.2, 32.25), x_dir=(-1, 0, 0), z_dir=(0, 1, 0))):
        with Locations((9.309773091, 5.375)):
            Circle(MIRROR2_COPY_21_SKETCH_R)
        Circle(MIRROR2_COPY_21_SKETCH_R)
    extrude(amount=-MIRROR2_COPY_21_DEPTH, mode=Mode.SUBTRACT)

    # Mirror2 copy 22 sketch → Mirror2 copy 22 (cut)
    with BuildSketch(Plane(origin=(-18.619546181, 0.2, 32.25), x_dir=(-1, 0, 0), z_dir=(0, 1, 0))):
        with Locations((9.309773091, 5.375)):
            Circle(MIRROR2_COPY_22_SKETCH_R)
        Circle(MIRROR2_COPY_22_SKETCH_R)
    extrude(amount=-MIRROR2_COPY_22_DEPTH, mode=Mode.SUBTRACT)

    # Mirror2 copy 23 sketch → Mirror2 copy 23 (cut)
    with BuildSketch(Plane(origin=(-37.239092363, 0.2, 32.25), x_dir=(-1, 0, 0), z_dir=(0, 1, 0))):
        with Locations((9.309773091, 5.375)):
            Circle(MIRROR2_COPY_23_SKETCH_R)
        Circle(MIRROR2_COPY_23_SKETCH_R)
    extrude(amount=-MIRROR2_COPY_23_DEPTH, mode=Mode.SUBTRACT)

    # Mirror2 copy 24 sketch → Mirror2 copy 24 (cut)
    with BuildSketch(Plane(origin=(0, 0.2, 0), x_dir=(-1, 0, 0), z_dir=(0, 1, 0))):
        with Locations((9.309773091, 5.375)):
            Circle(MIRROR2_COPY_24_SKETCH_R)
        Circle(MIRROR2_COPY_24_SKETCH_R)
    extrude(amount=-MIRROR2_COPY_24_DEPTH, mode=Mode.SUBTRACT)

    # Mirror2 copy 25 sketch → Mirror2 copy 25 (cut)
    with BuildSketch(Plane(origin=(0, 0.2, 0), x_dir=(1, 0, 0), z_dir=(0, 1, 0))):
        with Locations((9.309773091, -5.375)):
            Circle(MIRROR2_COPY_25_SKETCH_R)
        Circle(MIRROR2_COPY_25_SKETCH_R)
    extrude(amount=-MIRROR2_COPY_25_DEPTH, mode=Mode.SUBTRACT)


with BuildPart() as body_2:
    # Split1: the piece behind the surface
    add(part.part)
    # Split1 surface 1: a surface, the sketch's curves swept straight by 228.274 mm
    with BuildLine(Plane(origin=(0, 0.2, 0), x_dir=(1, 0, 0), z_dir=(0, 1, 0)).offset(-SPLIT1_SURFACE_1_1_BACK), mode=Mode.PRIVATE) as split1_surface_1_1_path:
        Line((-5.423076923, 2.5), (-5.1015625, 3))
        Line((-5.1015625, 3), (-4.269230769, 3))
        Line((-4.269230769, 3), (-4.269230769, 0))
        Line((-4.269230769, 0), (-4.807692308, 0))
        Line((-4.807692308, 0), (-4.807692308, 2.5))
        Line((-4.807692308, 2.5), (-5.423076923, 2.5))
    split1_surface_1_1 = Shell.extrude(split1_surface_1_1_path.wire(), (0 * SPLIT1_SURFACE_1_1_DEPTH, 1 * SPLIT1_SURFACE_1_1_DEPTH, 0 * SPLIT1_SURFACE_1_1_DEPTH))
    split(bisect_by=split1_surface_1_1, keep=Keep.BOTTOM)


with BuildPart() as part_1:
    add(part.part)

    # Split1: split by a surface, the side it looks to stays
    # Split1 surface 1: a surface, the sketch's curves swept straight by 228.274 mm
    with BuildLine(Plane(origin=(0, 0.2, 0), x_dir=(1, 0, 0), z_dir=(0, 1, 0)).offset(-SPLIT1_SURFACE_1_2_BACK), mode=Mode.PRIVATE) as split1_surface_1_2_path:
        Line((-5.423076923, 2.5), (-5.1015625, 3))
        Line((-5.1015625, 3), (-4.269230769, 3))
        Line((-4.269230769, 3), (-4.269230769, 0))
        Line((-4.269230769, 0), (-4.807692308, 0))
        Line((-4.807692308, 0), (-4.807692308, 2.5))
        Line((-4.807692308, 2.5), (-5.423076923, 2.5))
    split1_surface_1_2 = Shell.extrude(split1_surface_1_2_path.wire(), (0 * SPLIT1_SURFACE_1_2_DEPTH, 1 * SPLIT1_SURFACE_1_2_DEPTH, 0 * SPLIT1_SURFACE_1_2_DEPTH))
    split(bisect_by=split1_surface_1_2, keep=Keep.TOP)


with BuildPart() as body_3:
    # Split1 2: the piece behind the surface
    add(part_1.part)
    # Split1 surface 2: a surface, the sketch's curves swept straight by 228.274 mm
    with BuildLine(Plane(origin=(0, 0.2, 0), x_dir=(1, 0, 0), z_dir=(0, 1, 0)).offset(-SPLIT1_SURFACE_2_3_BACK), mode=Mode.PRIVATE) as split1_surface_2_3_path:
        Line((3.692307692, 2.5), (3.692307692, 3))
        Line((3.692307692, 3), (5.615384615, 3))
        Line((5.615384615, 3), (5.615384615, 2.720552885))
        Line((5.615384615, 2.720552885), (4.292067308, -0.076923077))
        Line((4.292067308, -0.076923077), (3.814903846, 0.163461538))
        Line((3.814903846, 0.163461538), (4.920673077, 2.5))
        Line((4.920673077, 2.5), (3.692307692, 2.5))
    split1_surface_2_3 = Shell.extrude(split1_surface_2_3_path.wire(), (0 * SPLIT1_SURFACE_2_3_DEPTH, 1 * SPLIT1_SURFACE_2_3_DEPTH, 0 * SPLIT1_SURFACE_2_3_DEPTH))
    split(bisect_by=split1_surface_2_3, keep=Keep.BOTTOM)


with BuildPart() as part_2:
    add(part_1.part)

    # Split1 2: split by a surface, the side it looks to stays
    # Split1 surface 2: a surface, the sketch's curves swept straight by 228.274 mm
    with BuildLine(Plane(origin=(0, 0.2, 0), x_dir=(1, 0, 0), z_dir=(0, 1, 0)).offset(-SPLIT1_SURFACE_2_4_BACK), mode=Mode.PRIVATE) as split1_surface_2_4_path:
        Line((3.692307692, 2.5), (3.692307692, 3))
        Line((3.692307692, 3), (5.615384615, 3))
        Line((5.615384615, 3), (5.615384615, 2.720552885))
        Line((5.615384615, 2.720552885), (4.292067308, -0.076923077))
        Line((4.292067308, -0.076923077), (3.814903846, 0.163461538))
        Line((3.814903846, 0.163461538), (4.920673077, 2.5))
        Line((4.920673077, 2.5), (3.692307692, 2.5))
    split1_surface_2_4 = Shell.extrude(split1_surface_2_4_path.wire(), (0 * SPLIT1_SURFACE_2_4_DEPTH, 1 * SPLIT1_SURFACE_2_4_DEPTH, 0 * SPLIT1_SURFACE_2_4_DEPTH))
    split(bisect_by=split1_surface_2_4, keep=Keep.TOP)


solid = Compound([body_2.part, body_3.part, part_2.part])
